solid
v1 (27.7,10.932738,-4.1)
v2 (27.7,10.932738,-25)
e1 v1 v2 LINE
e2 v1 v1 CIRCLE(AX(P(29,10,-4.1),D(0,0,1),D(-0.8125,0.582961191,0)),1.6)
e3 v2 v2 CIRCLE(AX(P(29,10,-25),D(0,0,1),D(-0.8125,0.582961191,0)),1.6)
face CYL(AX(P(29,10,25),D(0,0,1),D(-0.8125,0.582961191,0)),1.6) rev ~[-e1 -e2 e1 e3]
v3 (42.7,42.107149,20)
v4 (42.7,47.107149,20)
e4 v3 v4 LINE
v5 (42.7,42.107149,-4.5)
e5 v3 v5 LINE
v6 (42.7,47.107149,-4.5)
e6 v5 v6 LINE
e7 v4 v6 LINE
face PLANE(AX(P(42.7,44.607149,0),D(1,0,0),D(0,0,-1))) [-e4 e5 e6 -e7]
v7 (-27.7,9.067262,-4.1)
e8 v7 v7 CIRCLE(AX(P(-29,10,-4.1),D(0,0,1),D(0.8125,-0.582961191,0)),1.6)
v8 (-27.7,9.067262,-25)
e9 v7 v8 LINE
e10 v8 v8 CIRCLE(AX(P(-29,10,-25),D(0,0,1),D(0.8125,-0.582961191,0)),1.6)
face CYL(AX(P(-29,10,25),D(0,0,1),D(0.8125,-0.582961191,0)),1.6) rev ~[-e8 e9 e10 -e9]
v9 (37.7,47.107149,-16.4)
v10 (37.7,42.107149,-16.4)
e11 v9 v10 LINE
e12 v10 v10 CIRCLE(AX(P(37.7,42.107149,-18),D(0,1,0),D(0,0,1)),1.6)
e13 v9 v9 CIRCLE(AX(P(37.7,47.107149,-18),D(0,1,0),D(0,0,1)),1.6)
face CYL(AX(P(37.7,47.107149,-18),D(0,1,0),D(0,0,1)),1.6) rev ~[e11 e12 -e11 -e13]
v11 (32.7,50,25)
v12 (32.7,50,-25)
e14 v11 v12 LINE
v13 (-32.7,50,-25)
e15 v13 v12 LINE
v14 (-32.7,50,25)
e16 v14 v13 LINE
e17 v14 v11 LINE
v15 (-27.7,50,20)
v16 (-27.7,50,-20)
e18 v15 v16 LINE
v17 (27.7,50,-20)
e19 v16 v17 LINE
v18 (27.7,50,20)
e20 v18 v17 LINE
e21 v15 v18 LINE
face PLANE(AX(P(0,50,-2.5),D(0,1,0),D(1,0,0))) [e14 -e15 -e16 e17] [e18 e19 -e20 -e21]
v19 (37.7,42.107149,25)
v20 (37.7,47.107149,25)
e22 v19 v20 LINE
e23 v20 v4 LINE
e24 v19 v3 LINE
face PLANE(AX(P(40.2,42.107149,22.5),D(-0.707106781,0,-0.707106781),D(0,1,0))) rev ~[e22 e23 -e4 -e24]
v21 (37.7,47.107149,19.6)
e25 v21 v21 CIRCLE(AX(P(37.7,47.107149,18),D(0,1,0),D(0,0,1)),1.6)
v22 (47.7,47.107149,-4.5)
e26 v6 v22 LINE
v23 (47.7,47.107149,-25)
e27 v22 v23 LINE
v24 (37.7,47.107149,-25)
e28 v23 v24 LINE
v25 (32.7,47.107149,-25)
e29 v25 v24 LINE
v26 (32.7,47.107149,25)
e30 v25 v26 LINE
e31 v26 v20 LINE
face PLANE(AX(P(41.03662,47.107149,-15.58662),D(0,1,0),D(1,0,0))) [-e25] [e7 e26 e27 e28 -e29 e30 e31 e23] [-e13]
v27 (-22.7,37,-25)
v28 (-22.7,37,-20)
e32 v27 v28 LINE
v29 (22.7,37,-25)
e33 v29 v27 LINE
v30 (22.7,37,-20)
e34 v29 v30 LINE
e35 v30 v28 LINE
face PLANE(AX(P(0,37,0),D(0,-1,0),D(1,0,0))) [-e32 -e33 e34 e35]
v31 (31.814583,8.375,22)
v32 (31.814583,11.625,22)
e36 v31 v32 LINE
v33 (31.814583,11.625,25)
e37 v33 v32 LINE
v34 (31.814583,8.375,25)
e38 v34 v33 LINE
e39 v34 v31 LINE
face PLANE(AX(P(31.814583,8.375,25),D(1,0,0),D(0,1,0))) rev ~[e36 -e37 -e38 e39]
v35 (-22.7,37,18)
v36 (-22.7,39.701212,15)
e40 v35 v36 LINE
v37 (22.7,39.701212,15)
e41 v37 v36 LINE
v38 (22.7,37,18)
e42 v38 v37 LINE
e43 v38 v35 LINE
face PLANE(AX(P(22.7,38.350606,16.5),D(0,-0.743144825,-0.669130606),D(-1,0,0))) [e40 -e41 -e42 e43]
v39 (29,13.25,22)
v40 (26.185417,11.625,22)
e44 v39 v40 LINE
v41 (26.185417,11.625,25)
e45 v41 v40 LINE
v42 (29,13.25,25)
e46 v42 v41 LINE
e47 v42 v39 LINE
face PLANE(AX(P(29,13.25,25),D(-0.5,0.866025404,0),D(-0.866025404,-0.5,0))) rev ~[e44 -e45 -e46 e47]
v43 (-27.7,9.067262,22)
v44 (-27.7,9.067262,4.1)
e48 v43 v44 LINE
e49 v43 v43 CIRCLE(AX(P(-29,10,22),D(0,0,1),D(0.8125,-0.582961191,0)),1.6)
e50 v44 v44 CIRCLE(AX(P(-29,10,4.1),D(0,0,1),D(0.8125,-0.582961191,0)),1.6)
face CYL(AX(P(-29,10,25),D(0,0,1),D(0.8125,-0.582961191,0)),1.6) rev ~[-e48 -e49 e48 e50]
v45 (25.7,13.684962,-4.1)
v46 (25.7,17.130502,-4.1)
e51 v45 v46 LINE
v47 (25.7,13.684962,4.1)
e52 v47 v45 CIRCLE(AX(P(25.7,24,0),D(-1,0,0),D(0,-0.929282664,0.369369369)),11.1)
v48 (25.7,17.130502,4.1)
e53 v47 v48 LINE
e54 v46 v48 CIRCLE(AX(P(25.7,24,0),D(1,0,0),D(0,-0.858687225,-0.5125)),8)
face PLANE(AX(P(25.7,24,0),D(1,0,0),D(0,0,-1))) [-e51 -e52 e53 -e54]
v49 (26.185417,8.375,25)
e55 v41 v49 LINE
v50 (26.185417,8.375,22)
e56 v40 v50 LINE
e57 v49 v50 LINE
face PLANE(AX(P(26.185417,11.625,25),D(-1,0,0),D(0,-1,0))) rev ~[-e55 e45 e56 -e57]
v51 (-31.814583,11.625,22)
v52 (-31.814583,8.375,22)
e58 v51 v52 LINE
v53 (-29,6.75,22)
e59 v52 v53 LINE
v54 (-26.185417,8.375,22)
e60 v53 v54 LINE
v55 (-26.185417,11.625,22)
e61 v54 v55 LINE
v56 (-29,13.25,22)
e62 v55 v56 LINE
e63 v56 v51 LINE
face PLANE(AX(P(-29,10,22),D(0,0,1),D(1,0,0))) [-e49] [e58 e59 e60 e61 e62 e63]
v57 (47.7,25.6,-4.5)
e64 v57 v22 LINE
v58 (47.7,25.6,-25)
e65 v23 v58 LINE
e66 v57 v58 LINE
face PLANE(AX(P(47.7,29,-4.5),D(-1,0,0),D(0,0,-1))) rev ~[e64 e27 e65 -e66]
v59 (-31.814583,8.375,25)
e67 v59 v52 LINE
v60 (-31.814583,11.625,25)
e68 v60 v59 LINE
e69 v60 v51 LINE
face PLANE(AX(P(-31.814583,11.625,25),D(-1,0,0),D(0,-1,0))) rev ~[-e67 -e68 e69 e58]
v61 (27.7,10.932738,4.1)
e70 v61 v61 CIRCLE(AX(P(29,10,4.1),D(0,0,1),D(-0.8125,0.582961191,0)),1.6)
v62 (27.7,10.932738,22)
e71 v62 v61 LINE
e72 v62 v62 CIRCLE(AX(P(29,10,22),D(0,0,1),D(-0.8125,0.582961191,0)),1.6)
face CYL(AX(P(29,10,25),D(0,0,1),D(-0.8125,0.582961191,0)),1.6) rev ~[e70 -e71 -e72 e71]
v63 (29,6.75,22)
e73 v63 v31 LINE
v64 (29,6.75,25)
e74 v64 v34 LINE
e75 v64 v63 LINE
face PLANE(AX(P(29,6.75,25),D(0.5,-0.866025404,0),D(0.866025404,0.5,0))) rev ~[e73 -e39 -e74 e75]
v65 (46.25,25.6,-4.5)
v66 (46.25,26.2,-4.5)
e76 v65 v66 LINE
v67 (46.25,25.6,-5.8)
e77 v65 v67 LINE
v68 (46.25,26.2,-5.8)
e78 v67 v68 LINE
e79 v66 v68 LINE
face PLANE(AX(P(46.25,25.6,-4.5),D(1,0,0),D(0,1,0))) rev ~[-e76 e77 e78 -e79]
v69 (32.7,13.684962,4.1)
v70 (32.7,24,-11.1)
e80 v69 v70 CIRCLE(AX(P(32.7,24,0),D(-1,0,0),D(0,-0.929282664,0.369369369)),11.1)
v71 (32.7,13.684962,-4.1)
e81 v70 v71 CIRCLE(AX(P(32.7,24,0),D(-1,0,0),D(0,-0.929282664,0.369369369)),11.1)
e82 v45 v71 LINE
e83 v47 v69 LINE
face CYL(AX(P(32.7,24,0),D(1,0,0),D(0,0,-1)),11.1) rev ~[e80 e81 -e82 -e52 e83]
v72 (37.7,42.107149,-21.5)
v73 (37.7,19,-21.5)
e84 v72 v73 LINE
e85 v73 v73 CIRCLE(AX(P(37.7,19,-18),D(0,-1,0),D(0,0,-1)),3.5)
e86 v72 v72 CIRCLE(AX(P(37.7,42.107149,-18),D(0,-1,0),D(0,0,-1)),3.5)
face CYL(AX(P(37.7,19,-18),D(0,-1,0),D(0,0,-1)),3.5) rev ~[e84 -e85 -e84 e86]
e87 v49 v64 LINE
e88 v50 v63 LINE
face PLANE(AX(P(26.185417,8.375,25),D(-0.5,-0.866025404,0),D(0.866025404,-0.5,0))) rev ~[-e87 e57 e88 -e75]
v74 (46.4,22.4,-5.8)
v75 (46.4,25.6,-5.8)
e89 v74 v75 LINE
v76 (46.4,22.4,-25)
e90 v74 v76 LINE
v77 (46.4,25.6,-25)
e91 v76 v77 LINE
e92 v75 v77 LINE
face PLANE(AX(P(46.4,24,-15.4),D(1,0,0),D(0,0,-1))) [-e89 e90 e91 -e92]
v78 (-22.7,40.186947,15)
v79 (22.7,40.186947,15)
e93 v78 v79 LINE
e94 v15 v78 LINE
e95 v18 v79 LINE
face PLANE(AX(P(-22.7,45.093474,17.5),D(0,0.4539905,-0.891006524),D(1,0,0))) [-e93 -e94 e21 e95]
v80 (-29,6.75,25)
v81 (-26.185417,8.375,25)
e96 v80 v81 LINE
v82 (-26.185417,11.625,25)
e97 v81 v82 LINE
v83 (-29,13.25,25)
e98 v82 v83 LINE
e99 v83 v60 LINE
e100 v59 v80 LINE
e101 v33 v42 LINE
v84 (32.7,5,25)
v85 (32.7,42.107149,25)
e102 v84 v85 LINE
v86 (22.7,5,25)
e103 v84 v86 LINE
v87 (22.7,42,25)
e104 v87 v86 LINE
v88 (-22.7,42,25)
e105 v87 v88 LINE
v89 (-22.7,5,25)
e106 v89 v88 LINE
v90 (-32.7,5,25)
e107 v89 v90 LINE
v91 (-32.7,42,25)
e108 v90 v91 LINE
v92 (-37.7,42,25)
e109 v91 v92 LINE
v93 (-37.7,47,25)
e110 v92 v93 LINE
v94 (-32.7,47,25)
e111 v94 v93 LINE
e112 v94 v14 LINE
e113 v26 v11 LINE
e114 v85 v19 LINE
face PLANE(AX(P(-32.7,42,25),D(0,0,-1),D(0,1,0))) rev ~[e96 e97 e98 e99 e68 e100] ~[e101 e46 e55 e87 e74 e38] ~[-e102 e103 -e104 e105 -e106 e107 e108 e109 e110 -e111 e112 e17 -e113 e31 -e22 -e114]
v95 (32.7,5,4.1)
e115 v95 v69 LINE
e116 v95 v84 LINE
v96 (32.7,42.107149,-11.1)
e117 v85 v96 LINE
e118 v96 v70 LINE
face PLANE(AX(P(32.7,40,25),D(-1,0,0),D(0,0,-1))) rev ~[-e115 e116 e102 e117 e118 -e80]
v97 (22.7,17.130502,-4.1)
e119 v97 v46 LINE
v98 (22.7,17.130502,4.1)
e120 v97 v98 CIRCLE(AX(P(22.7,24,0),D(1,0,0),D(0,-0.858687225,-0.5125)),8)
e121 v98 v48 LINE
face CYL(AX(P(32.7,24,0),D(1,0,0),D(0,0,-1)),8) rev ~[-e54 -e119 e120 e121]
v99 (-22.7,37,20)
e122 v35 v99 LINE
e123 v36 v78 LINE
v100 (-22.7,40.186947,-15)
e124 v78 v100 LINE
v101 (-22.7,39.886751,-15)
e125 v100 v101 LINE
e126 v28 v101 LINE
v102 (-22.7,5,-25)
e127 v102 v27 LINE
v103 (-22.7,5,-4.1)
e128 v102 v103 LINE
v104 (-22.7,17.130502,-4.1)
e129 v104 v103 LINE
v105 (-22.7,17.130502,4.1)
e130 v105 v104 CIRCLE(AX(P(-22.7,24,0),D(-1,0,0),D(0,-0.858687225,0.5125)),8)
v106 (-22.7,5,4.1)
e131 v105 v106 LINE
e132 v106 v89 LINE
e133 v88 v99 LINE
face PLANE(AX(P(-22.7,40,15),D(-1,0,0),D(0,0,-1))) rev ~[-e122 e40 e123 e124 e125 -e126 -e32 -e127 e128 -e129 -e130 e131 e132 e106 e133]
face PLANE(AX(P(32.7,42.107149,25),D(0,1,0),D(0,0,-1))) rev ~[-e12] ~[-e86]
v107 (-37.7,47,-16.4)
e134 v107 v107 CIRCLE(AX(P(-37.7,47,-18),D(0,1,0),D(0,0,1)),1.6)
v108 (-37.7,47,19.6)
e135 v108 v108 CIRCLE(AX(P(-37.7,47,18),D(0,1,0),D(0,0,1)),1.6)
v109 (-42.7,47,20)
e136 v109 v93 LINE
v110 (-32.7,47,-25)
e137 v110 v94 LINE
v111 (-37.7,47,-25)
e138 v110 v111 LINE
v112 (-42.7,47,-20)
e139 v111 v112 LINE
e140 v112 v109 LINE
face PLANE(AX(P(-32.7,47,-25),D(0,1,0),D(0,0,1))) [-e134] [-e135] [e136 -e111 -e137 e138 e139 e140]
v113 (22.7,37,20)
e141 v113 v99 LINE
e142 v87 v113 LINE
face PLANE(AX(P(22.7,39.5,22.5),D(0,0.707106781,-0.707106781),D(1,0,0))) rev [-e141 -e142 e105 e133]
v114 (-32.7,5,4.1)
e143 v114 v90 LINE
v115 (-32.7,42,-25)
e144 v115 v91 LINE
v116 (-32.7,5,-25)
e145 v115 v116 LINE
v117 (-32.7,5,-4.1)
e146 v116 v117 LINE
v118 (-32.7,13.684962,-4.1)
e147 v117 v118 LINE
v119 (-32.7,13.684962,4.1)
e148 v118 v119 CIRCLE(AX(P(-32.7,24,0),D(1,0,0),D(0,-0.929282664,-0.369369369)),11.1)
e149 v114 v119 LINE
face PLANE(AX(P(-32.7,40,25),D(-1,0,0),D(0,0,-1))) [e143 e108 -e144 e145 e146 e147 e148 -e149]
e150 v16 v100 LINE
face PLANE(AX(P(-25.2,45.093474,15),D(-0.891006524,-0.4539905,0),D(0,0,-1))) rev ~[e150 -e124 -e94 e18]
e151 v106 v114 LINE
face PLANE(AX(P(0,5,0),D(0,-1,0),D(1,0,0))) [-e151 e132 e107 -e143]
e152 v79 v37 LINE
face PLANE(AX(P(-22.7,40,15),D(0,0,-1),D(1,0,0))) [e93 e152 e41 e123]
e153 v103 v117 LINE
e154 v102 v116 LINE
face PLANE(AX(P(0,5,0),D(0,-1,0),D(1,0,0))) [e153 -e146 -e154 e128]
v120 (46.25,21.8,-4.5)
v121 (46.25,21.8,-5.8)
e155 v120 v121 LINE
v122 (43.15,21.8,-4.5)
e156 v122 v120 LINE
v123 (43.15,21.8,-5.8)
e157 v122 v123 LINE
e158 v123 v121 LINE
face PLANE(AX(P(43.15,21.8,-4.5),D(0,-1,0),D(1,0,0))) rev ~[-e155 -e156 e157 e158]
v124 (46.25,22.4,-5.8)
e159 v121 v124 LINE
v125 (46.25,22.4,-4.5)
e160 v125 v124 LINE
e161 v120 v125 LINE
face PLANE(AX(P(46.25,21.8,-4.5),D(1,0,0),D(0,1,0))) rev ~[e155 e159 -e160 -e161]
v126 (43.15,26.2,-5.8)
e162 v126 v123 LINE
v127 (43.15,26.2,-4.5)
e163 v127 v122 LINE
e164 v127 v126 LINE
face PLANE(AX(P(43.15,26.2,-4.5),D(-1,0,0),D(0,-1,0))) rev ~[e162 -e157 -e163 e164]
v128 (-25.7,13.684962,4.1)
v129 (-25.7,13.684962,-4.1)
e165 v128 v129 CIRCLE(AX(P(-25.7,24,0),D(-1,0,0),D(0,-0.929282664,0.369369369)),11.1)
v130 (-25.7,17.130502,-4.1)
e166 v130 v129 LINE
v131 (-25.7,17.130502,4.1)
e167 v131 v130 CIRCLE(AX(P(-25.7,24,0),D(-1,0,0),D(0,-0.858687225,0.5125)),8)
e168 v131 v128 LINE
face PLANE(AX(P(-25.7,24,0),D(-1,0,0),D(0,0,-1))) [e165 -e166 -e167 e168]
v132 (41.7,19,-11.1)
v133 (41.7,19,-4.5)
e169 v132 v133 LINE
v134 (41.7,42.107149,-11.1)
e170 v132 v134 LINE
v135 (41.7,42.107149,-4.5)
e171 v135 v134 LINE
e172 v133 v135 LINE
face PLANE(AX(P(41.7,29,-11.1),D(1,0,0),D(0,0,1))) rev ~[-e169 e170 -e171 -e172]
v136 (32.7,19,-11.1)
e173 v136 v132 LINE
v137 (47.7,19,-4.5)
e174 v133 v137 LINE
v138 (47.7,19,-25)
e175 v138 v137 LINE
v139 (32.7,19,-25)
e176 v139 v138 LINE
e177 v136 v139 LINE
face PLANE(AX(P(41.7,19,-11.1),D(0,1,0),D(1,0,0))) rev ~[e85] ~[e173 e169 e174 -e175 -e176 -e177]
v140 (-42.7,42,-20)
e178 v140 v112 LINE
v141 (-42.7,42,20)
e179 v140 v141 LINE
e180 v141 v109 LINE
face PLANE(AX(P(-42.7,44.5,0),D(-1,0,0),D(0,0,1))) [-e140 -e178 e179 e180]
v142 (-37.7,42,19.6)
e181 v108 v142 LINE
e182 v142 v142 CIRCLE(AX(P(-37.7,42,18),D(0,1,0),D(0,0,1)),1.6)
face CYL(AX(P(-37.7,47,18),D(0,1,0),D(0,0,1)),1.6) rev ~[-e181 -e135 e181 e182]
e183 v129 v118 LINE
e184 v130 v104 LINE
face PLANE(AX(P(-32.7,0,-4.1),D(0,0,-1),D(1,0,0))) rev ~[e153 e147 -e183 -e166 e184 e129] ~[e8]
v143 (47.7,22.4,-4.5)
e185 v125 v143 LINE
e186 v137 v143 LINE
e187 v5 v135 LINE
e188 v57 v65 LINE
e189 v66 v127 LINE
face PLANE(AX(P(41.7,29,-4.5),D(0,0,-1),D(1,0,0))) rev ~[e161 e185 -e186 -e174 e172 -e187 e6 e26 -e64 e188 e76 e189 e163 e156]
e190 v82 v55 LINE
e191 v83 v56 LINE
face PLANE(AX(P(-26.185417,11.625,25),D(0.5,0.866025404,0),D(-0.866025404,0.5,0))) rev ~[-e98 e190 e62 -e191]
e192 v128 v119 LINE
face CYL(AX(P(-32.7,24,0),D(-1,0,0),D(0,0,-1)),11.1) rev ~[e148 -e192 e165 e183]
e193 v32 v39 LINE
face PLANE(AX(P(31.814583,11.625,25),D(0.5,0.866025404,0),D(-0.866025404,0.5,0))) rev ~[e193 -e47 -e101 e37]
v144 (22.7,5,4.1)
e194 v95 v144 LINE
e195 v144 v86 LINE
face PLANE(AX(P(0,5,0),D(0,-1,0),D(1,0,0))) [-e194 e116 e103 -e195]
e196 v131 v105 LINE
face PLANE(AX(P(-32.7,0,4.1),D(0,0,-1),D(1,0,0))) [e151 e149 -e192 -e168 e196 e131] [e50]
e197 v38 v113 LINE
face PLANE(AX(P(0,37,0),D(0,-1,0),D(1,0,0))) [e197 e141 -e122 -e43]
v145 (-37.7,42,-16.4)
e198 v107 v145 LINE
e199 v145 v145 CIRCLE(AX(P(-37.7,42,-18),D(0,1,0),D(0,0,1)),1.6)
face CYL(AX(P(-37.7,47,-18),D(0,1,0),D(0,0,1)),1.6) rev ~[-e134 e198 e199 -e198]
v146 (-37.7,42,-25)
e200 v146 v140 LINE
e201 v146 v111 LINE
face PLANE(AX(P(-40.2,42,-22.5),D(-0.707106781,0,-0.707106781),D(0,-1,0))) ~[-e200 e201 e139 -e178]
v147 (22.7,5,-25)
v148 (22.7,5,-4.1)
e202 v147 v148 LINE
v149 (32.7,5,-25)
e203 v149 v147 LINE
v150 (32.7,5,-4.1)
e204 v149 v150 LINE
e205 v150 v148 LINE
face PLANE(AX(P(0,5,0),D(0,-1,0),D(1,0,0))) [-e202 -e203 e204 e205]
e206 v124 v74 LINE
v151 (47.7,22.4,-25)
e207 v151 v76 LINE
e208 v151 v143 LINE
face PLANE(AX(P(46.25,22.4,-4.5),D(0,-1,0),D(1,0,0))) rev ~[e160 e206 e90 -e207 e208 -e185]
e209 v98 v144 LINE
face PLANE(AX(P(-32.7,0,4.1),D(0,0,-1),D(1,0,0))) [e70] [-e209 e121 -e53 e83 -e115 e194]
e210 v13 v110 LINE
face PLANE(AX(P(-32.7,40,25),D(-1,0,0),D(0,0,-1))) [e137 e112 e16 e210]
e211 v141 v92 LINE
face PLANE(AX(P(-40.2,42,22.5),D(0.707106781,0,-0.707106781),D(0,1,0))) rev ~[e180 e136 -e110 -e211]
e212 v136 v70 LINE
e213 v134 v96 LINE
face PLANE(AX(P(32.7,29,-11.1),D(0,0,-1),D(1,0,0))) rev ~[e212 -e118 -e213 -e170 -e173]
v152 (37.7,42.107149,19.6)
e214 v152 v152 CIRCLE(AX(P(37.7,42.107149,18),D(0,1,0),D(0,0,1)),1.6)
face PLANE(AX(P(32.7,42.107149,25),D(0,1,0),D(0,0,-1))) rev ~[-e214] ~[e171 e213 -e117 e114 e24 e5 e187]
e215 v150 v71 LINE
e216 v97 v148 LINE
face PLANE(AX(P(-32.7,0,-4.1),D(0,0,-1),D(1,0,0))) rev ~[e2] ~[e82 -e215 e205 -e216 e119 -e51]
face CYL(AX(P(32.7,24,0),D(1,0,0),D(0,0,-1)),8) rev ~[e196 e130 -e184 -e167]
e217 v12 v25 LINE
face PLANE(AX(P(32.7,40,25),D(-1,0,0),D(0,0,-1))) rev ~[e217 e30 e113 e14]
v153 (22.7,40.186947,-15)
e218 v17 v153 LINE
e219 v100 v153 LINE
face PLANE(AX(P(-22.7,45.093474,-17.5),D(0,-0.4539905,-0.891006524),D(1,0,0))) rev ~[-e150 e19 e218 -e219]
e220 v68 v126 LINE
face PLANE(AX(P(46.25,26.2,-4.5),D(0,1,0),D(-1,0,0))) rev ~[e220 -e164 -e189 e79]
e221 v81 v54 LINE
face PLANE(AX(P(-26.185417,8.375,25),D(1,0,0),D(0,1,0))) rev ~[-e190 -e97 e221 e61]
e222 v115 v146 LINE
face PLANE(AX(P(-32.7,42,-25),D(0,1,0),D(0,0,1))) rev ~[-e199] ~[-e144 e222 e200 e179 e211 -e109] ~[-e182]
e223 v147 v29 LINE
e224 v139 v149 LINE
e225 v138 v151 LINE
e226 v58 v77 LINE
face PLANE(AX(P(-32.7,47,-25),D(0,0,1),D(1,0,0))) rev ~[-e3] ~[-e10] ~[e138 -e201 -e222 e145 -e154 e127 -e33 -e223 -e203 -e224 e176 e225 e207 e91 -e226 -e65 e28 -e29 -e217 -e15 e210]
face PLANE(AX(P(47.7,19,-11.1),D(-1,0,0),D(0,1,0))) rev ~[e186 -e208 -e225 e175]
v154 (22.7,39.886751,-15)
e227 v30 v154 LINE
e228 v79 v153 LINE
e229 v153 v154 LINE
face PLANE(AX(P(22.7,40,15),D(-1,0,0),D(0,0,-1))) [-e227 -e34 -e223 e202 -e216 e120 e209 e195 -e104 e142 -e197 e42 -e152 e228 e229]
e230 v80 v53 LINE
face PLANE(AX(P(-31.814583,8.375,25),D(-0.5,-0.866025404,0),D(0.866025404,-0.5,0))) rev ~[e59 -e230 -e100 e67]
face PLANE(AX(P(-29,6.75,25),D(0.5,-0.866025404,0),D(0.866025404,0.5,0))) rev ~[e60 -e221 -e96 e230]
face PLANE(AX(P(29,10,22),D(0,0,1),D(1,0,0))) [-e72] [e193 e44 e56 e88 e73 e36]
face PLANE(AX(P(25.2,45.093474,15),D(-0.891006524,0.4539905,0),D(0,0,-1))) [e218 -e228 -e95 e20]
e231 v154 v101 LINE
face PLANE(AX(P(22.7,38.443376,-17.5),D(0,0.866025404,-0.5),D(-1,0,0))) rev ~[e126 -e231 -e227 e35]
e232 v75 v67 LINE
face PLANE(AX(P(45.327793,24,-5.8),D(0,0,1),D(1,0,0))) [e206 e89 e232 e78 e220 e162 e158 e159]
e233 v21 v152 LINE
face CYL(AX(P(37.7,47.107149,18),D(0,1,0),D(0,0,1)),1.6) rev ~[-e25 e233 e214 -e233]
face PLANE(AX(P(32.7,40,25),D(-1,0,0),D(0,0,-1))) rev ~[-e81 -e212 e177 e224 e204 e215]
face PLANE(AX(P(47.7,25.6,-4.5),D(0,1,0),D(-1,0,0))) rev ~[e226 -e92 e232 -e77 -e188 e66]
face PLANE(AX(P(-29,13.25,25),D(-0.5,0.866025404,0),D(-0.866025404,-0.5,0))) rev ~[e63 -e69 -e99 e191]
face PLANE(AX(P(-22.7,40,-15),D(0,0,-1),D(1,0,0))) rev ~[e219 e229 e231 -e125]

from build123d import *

# Parameters (mm, degrees)
SKETCH1_W           = 65.4
SKETCH1_H           = 60
SKETCH1_W_2         = 45.4
SKETCH1_H_2         = 30
BOSS_EXTRUDE1_DEPTH = 40
SKETCH2_R           = 8
CUT_EXTRUDE1_DEPTH  = 66.4
SKETCH3_W           = 45.4
SKETCH3_H           = 52
CUT_EXTRUDE2_DEPTH  = 37
CHAMFER1_SIZE       = 5
CHAMFER1_SIZE2      = 2.886751346
SKETCH7_W           = 65.4
SKETCH7_H           = 5
CUT_EXTRUDE5_DEPTH  = 41
CHAMFER2_SIZE       = 3
CHAMFER2_SIZE2      = 2.701212133
SKETCH8_W           = 65.4
SKETCH8_H           = 55
SKETCH8_W_2         = 45.4
SKETCH8_H_2         = 30
BOSS_EXTRUDE2_DEPTH = 10
CHAMFER3_SIZE       = 5
CHAMFER3_SIZE2      = 9.813052528
SKETCH10_R          = 11.1
CUT_EXTRUDE8_DEPTH  = 7
SKETCH11_R          = 11.1
CUT_EXTRUDE9_DEPTH  = 7
SKETCH12_W          = 65.4
SKETCH12_H          = 8.2
CUT_EXTRUDE10_DEPTH = 20
SKETCH13_W          = 65.4
SKETCH13_H          = 5
CUT_EXTRUDE11_DEPTH = 3
CHAMFER4_SIZE       = 5
SKETCH20_W          = 50
SKETCH20_H          = 5
BOSS_EXTRUDE5_DEPTH = 10
SKETCH21_W          = 50
SKETCH21_H          = 5
BOSS_EXTRUDE6_DEPTH = 10
CHAMFER5_SIZE       = 5
SKETCH23_R          = 1.6
CUT_EXTRUDE15_DEPTH = 48
SKETCH24_W          = 13.9
SKETCH24_H          = 10
BOSS_EXTRUDE7_DEPTH = 15
SKETCH22_R          = 1.6
CUT_EXTRUDE14_DEPTH = 48.107149008
SKETCH25_R          = 3.5
CUT_EXTRUDE16_DEPTH = 10
SKETCH27_W          = 6
SKETCH27_H          = 10
BOSS_EXTRUDE8_DEPTH = 6.6
CUT_EXTRUDE18_DEPTH = 1.3
SKETCH29_W          = 19.2
SKETCH29_H          = 3.2
CUT_EXTRUDE19_DEPTH = 1.3
SKETCH30_R          = 1.6
CUT_EXTRUDE20_DEPTH = 56
CUT_EXTRUDE21_DEPTH = 3
SKETCH32_R          = 3.15
CUT_EXTRUDE22_DEPTH = 5
SKETCH35_W          = 105.7739029
SKETCH35_H          = 101.810214422
CUT_EXTRUDE23_DEPTH = 5
CHAMFER6_SIZE       = 5
CUT_EXTRUDE25_DEPTH = 43
SKETCH37_R          = 3.5
BOSS_EXTRUDE9_DEPTH = 18.107149


with BuildPart() as part:
    # Sketch1 → Boss-Extrude1 (new body)
    with BuildSketch(Plane(origin=(0, 0, 0), x_dir=(1, 0, 0), z_dir=(0, 1, 0))):
        Rectangle(SKETCH1_W, SKETCH1_H)
        Rectangle(SKETCH1_W_2, SKETCH1_H_2, mode=Mode.SUBTRACT)
    extrude(amount=BOSS_EXTRUDE1_DEPTH)

    # Sketch2 → Cut-Extrude1 (cut, through all)
    with BuildSketch(Plane(origin=(32.7, 0, 0), x_dir=(0, 0, -1), z_dir=(1, 0, 0))):
        with Locations((0, 24)):
            Circle(SKETCH2_R)
    extrude(amount=-CUT_EXTRUDE1_DEPTH, mode=Mode.SUBTRACT)

    # Sketch3 → Cut-Extrude2 (cut)
    with BuildSketch(Plane.XZ):
        Rectangle(SKETCH3_W, SKETCH3_H)
    extrude(amount=-CUT_EXTRUDE2_DEPTH, mode=Mode.SUBTRACT)

    # Chamfer1
    chamfer1_edges = [part.edges().sort_by_distance(p)[0] for p in [
        (0, 37, -15),
    ]]
    chamfer1_side = [part.faces().sort_by_distance(p)[0] for p in [
        (0, 37, -20.5),
    ]]
    chamfer(chamfer1_edges, length=CHAMFER1_SIZE, length2=CHAMFER1_SIZE2, reference=chamfer1_side[0])

    # Sketch7 → Cut-Extrude5 (cut, through all)
    with BuildSketch(Plane(origin=(0, 40, 0), x_dir=(1, 0, 0), z_dir=(0, 1, 0))):
        with Locations((0, -27.5)):
            Rectangle(SKETCH7_W, SKETCH7_H)
    extrude(amount=-CUT_EXTRUDE5_DEPTH, mode=Mode.SUBTRACT)

    # Chamfer2
    chamfer2_edges = [part.edges().sort_by_distance(p)[0] for p in [
        (0, 37, 15),
    ]]
    chamfer2_side = [part.faces().sort_by_distance(p)[0] for p in [
        (0, 37, 20),
    ]]
    chamfer(chamfer2_edges, length=CHAMFER2_SIZE, length2=CHAMFER2_SIZE2, reference=chamfer2_side[0])

    # Sketch8 → Boss-Extrude2 (add)
    with BuildSketch(Plane(origin=(0, 40, 0), x_dir=(1, 0, 0), z_dir=(0, 1, 0))):
        with Locations((0, 2.5)):
            Rectangle(SKETCH8_W, SKETCH8_H)
        Rectangle(SKETCH8_W_2, SKETCH8_H_2, mode=Mode.SUBTRACT)
    extrude(amount=BOSS_EXTRUDE2_DEPTH)

    # Chamfer3
    chamfer3_edges = [part.edges().sort_by_distance(p)[0] for p in [
        (-22.7, 50, 0),
        (0, 50, 15),
        (22.7, 50, 0),
        (0, 50, -15),
    ]]
    chamfer3_side = [part.faces().sort_by_distance(p)[0] for p in [
        (0, 50, 24.14547323),
    ]]
    chamfer(chamfer3_edges, length=CHAMFER3_SIZE, length2=CHAMFER3_SIZE2, reference=chamfer3_side[0])

    # Sketch10 → Cut-Extrude8 (cut)
    with BuildSketch(Plane(origin=(32.7, 0, 0), x_dir=(0, 0, -1), z_dir=(1, 0, 0))):
        with Locations((0, 24)):
            Circle(SKETCH10_R)
    extrude(amount=-CUT_EXTRUDE8_DEPTH, mode=Mode.SUBTRACT)

    # Sketch11 → Cut-Extrude9 (cut)
    with BuildSketch(Plane.ZY.offset(32.7)):
        with Locations(Location((0, 24, 0), (0, 0, 180))):  # turned: the seam where the file's is
            Circle(SKETCH11_R)
    extrude(amount=-CUT_EXTRUDE9_DEPTH, mode=Mode.SUBTRACT)

    # Sketch12 → Cut-Extrude10 (cut)
    with BuildSketch(Plane.XZ):
        Rectangle(SKETCH12_W, SKETCH12_H)
    extrude(amount=-CUT_EXTRUDE10_DEPTH, mode=Mode.SUBTRACT)

    # Sketch13 → Cut-Extrude11 (cut)
    with BuildSketch(Plane(origin=(0, 50, 0), x_dir=(1, 0, 0), z_dir=(0, 1, 0))):
        with Locations((0, 27.5)):
            Rectangle(SKETCH13_W, SKETCH13_H)
    extrude(amount=-CUT_EXTRUDE11_DEPTH, mode=Mode.SUBTRACT)

    # Chamfer4
    chamfer4_edges = [part.edges().sort_by_distance(p)[0] for p in [
        (-32.7, 23.5, -30),
        (32.7, 23.5, -30),
    ]]
    chamfer(chamfer4_edges, length=CHAMFER4_SIZE)

    # Sketch20 → Boss-Extrude5 (add)
    with BuildSketch(Plane(origin=(32.7, 0, 0), x_dir=(0, 0, -1), z_dir=(1, 0, 0))):
        with Locations((0, 44.607149008)):
            Rectangle(SKETCH20_W, SKETCH20_H)
    extrude(amount=BOSS_EXTRUDE5_DEPTH)

    # Sketch21 → Boss-Extrude6 (add)
    with BuildSketch(Plane.ZY.offset(32.7)):
        with Locations((0, 44.5)):
            Rectangle(SKETCH21_W, SKETCH21_H)
    extrude(amount=BOSS_EXTRUDE6_DEPTH)

    # Chamfer5
    chamfer5_edges = [part.edges().sort_by_distance(p)[0] for p in [
        (42.7, 44.607149008, 25),
        (42.7, 44.607149008, -25),
        (-42.7, 44.5, -25),
        (-42.7, 44.5, 25),
    ]]
    chamfer(chamfer5_edges, length=CHAMFER5_SIZE)

    # Sketch23 → Cut-Extrude15 (cut, through all)
    with BuildSketch(Plane(origin=(0, 47, 0), x_dir=(1, 0, 0), z_dir=(0, 1, 0))):
        with Locations(Location((-37.7, 18, 0), (0, 0, 270))):  # turned: the seam where the file's is
            Circle(SKETCH23_R)
        with Locations(Location((-37.7, -18, 0), (0, 0, 270))):  # turned: the seam where the file's is
            Circle(SKETCH23_R)
    extrude(amount=-CUT_EXTRUDE15_DEPTH, mode=Mode.SUBTRACT)

    # Sketch24 → Boss-Extrude7 (add)
    with BuildSketch(Plane(origin=(32.7, 0, 0), x_dir=(0, 0, -1), z_dir=(1, 0, 0))):
        with Locations((18.05, 24)):
            Rectangle(SKETCH24_W, SKETCH24_H)
    extrude(amount=BOSS_EXTRUDE7_DEPTH)

    # Sketch22 → Cut-Extrude14 (cut, through all)
    with BuildSketch(Plane(origin=(0, 47.107149008, 0), x_dir=(1, 0, 0), z_dir=(0, 1, 0))):
        with Locations(Location((37.7, -18, 0), (0, 0, 270))):  # turned: the seam where the file's is
            Circle(SKETCH22_R)
        with Locations(Location((37.7, 18, 0), (0, 0, 270))):  # turned: the seam where the file's is
            Circle(SKETCH22_R)
    extrude(amount=-CUT_EXTRUDE14_DEPTH, mode=Mode.SUBTRACT)

    # Sketch25 → Cut-Extrude16 (cut)
    with BuildSketch(Plane.XZ.offset(-19)):
        with Locations(Location((37.7, -18, 0), (0, 0, 270))):  # turned: the seam where the file's is
            Circle(SKETCH25_R)
    extrude(amount=-CUT_EXTRUDE16_DEPTH, mode=Mode.SUBTRACT)

    # Sketch27 → Boss-Extrude8 (add)
    with BuildSketch(Plane.XY.offset(-11.1)):
        with Locations((44.7, 24)):
            Rectangle(SKETCH27_W, SKETCH27_H)
    extrude(amount=BOSS_EXTRUDE8_DEPTH)

    # Sketch28 → Cut-Extrude18 (cut)
    with BuildSketch(Plane.XY.offset(-4.5)):
        Polygon((46.25, 21.8), (46.25, 22.4), (47.7, 22.4), (47.7, 25.6), (46.25, 25.6), (46.25, 26.2), (43.15, 26.2), (43.15, 21.8), align=None)
    extrude(amount=-CUT_EXTRUDE18_DEPTH, mode=Mode.SUBTRACT)

    # Sketch29 → Cut-Extrude19 (cut)
    with BuildSketch(Plane(origin=(47.7, 0, 0), x_dir=(0, 0, -1), z_dir=(1, 0, 0))):
        with Locations((15.4, 24)):
            Rectangle(SKETCH29_W, SKETCH29_H)
    extrude(amount=-CUT_EXTRUDE19_DEPTH, mode=Mode.SUBTRACT)

    # Sketch30 → Cut-Extrude20 (cut, through all)
    with BuildSketch(Plane.XY.offset(25)):
        with Locations(Location((-29, 10, 0), (0, 0, 324.340912304))):  # turned: the seam where the file's is
            Circle(SKETCH30_R)
        with Locations(Location((29, 10, 0), (0, 0, 144.340912304))):  # turned: the seam where the file's is
            Circle(SKETCH30_R)
    extrude(amount=-CUT_EXTRUDE20_DEPTH, mode=Mode.SUBTRACT)

    # Sketch31 → Cut-Extrude21 (cut)
    with BuildSketch(Plane.XY.offset(25)):
        Polygon((26.185417438, 11.625), (26.185417438, 8.375), (29, 6.75), (31.814582562, 8.375), (31.814582562, 11.625), (29, 13.25), align=None)
        Polygon((-31.814582562, 11.625), (-31.814582562, 8.375), (-29, 6.75), (-26.185417438, 8.375), (-26.185417438, 11.625), (-29, 13.25), align=None)
    extrude(amount=-CUT_EXTRUDE21_DEPTH, mode=Mode.SUBTRACT)

    # Sketch32 → Cut-Extrude22 (cut)
    with BuildSketch(Plane(origin=(0, 0, -30), x_dir=(-1, 0, 0), z_dir=(0, 0, -1))):
        with Locations((-29, 10)):
            Circle(SKETCH32_R)
        with Locations((29, 10)):
            Circle(SKETCH32_R)
    extrude(amount=-CUT_EXTRUDE22_DEPTH, mode=Mode.SUBTRACT)

    # Sketch35 → Cut-Extrude23 (cut)
    with BuildSketch(Plane.XZ):
        Rectangle(SKETCH35_W, SKETCH35_H)
    extrude(amount=-CUT_EXTRUDE23_DEPTH, mode=Mode.SUBTRACT)

    # Chamfer6
    chamfer6_edges = [part.edges().sort_by_distance(p)[0] for p in [
        (0, 37, 25),
    ]]
    chamfer(chamfer6_edges, length=CHAMFER6_SIZE)

    # Sketch36 → Cut-Extrude25 (cut, through all)
    with BuildSketch(Plane(origin=(0, 47, 0), x_dir=(1, 0, 0), z_dir=(0, 1, 0))):
        Polygon((32.7, 25), (27.7, 30), (-27.7, 30), (-32.7, 25), align=None)
    extrude(amount=-CUT_EXTRUDE25_DEPTH, mode=Mode.SUBTRACT)

    # Sketch37 → Boss-Extrude9 (add)
    with BuildSketch(Plane(origin=(0, 29, 0), x_dir=(1, 0, 0), z_dir=(0, 1, 0))):
        Polygon((32.7, 11.1), (41.7, 11.1), (41.7, 4.5), (47.7, 4.5), (47.7, 25), (32.7, 25), align=None)
        with Locations(Location((37.7, 18, 0), (0, 0, 90))):  # turned: the seam where the file's is
            Circle(SKETCH37_R, mode=Mode.SUBTRACT)
    extrude(amount=BOSS_EXTRUDE9_DEPTH)


solid = part.part
